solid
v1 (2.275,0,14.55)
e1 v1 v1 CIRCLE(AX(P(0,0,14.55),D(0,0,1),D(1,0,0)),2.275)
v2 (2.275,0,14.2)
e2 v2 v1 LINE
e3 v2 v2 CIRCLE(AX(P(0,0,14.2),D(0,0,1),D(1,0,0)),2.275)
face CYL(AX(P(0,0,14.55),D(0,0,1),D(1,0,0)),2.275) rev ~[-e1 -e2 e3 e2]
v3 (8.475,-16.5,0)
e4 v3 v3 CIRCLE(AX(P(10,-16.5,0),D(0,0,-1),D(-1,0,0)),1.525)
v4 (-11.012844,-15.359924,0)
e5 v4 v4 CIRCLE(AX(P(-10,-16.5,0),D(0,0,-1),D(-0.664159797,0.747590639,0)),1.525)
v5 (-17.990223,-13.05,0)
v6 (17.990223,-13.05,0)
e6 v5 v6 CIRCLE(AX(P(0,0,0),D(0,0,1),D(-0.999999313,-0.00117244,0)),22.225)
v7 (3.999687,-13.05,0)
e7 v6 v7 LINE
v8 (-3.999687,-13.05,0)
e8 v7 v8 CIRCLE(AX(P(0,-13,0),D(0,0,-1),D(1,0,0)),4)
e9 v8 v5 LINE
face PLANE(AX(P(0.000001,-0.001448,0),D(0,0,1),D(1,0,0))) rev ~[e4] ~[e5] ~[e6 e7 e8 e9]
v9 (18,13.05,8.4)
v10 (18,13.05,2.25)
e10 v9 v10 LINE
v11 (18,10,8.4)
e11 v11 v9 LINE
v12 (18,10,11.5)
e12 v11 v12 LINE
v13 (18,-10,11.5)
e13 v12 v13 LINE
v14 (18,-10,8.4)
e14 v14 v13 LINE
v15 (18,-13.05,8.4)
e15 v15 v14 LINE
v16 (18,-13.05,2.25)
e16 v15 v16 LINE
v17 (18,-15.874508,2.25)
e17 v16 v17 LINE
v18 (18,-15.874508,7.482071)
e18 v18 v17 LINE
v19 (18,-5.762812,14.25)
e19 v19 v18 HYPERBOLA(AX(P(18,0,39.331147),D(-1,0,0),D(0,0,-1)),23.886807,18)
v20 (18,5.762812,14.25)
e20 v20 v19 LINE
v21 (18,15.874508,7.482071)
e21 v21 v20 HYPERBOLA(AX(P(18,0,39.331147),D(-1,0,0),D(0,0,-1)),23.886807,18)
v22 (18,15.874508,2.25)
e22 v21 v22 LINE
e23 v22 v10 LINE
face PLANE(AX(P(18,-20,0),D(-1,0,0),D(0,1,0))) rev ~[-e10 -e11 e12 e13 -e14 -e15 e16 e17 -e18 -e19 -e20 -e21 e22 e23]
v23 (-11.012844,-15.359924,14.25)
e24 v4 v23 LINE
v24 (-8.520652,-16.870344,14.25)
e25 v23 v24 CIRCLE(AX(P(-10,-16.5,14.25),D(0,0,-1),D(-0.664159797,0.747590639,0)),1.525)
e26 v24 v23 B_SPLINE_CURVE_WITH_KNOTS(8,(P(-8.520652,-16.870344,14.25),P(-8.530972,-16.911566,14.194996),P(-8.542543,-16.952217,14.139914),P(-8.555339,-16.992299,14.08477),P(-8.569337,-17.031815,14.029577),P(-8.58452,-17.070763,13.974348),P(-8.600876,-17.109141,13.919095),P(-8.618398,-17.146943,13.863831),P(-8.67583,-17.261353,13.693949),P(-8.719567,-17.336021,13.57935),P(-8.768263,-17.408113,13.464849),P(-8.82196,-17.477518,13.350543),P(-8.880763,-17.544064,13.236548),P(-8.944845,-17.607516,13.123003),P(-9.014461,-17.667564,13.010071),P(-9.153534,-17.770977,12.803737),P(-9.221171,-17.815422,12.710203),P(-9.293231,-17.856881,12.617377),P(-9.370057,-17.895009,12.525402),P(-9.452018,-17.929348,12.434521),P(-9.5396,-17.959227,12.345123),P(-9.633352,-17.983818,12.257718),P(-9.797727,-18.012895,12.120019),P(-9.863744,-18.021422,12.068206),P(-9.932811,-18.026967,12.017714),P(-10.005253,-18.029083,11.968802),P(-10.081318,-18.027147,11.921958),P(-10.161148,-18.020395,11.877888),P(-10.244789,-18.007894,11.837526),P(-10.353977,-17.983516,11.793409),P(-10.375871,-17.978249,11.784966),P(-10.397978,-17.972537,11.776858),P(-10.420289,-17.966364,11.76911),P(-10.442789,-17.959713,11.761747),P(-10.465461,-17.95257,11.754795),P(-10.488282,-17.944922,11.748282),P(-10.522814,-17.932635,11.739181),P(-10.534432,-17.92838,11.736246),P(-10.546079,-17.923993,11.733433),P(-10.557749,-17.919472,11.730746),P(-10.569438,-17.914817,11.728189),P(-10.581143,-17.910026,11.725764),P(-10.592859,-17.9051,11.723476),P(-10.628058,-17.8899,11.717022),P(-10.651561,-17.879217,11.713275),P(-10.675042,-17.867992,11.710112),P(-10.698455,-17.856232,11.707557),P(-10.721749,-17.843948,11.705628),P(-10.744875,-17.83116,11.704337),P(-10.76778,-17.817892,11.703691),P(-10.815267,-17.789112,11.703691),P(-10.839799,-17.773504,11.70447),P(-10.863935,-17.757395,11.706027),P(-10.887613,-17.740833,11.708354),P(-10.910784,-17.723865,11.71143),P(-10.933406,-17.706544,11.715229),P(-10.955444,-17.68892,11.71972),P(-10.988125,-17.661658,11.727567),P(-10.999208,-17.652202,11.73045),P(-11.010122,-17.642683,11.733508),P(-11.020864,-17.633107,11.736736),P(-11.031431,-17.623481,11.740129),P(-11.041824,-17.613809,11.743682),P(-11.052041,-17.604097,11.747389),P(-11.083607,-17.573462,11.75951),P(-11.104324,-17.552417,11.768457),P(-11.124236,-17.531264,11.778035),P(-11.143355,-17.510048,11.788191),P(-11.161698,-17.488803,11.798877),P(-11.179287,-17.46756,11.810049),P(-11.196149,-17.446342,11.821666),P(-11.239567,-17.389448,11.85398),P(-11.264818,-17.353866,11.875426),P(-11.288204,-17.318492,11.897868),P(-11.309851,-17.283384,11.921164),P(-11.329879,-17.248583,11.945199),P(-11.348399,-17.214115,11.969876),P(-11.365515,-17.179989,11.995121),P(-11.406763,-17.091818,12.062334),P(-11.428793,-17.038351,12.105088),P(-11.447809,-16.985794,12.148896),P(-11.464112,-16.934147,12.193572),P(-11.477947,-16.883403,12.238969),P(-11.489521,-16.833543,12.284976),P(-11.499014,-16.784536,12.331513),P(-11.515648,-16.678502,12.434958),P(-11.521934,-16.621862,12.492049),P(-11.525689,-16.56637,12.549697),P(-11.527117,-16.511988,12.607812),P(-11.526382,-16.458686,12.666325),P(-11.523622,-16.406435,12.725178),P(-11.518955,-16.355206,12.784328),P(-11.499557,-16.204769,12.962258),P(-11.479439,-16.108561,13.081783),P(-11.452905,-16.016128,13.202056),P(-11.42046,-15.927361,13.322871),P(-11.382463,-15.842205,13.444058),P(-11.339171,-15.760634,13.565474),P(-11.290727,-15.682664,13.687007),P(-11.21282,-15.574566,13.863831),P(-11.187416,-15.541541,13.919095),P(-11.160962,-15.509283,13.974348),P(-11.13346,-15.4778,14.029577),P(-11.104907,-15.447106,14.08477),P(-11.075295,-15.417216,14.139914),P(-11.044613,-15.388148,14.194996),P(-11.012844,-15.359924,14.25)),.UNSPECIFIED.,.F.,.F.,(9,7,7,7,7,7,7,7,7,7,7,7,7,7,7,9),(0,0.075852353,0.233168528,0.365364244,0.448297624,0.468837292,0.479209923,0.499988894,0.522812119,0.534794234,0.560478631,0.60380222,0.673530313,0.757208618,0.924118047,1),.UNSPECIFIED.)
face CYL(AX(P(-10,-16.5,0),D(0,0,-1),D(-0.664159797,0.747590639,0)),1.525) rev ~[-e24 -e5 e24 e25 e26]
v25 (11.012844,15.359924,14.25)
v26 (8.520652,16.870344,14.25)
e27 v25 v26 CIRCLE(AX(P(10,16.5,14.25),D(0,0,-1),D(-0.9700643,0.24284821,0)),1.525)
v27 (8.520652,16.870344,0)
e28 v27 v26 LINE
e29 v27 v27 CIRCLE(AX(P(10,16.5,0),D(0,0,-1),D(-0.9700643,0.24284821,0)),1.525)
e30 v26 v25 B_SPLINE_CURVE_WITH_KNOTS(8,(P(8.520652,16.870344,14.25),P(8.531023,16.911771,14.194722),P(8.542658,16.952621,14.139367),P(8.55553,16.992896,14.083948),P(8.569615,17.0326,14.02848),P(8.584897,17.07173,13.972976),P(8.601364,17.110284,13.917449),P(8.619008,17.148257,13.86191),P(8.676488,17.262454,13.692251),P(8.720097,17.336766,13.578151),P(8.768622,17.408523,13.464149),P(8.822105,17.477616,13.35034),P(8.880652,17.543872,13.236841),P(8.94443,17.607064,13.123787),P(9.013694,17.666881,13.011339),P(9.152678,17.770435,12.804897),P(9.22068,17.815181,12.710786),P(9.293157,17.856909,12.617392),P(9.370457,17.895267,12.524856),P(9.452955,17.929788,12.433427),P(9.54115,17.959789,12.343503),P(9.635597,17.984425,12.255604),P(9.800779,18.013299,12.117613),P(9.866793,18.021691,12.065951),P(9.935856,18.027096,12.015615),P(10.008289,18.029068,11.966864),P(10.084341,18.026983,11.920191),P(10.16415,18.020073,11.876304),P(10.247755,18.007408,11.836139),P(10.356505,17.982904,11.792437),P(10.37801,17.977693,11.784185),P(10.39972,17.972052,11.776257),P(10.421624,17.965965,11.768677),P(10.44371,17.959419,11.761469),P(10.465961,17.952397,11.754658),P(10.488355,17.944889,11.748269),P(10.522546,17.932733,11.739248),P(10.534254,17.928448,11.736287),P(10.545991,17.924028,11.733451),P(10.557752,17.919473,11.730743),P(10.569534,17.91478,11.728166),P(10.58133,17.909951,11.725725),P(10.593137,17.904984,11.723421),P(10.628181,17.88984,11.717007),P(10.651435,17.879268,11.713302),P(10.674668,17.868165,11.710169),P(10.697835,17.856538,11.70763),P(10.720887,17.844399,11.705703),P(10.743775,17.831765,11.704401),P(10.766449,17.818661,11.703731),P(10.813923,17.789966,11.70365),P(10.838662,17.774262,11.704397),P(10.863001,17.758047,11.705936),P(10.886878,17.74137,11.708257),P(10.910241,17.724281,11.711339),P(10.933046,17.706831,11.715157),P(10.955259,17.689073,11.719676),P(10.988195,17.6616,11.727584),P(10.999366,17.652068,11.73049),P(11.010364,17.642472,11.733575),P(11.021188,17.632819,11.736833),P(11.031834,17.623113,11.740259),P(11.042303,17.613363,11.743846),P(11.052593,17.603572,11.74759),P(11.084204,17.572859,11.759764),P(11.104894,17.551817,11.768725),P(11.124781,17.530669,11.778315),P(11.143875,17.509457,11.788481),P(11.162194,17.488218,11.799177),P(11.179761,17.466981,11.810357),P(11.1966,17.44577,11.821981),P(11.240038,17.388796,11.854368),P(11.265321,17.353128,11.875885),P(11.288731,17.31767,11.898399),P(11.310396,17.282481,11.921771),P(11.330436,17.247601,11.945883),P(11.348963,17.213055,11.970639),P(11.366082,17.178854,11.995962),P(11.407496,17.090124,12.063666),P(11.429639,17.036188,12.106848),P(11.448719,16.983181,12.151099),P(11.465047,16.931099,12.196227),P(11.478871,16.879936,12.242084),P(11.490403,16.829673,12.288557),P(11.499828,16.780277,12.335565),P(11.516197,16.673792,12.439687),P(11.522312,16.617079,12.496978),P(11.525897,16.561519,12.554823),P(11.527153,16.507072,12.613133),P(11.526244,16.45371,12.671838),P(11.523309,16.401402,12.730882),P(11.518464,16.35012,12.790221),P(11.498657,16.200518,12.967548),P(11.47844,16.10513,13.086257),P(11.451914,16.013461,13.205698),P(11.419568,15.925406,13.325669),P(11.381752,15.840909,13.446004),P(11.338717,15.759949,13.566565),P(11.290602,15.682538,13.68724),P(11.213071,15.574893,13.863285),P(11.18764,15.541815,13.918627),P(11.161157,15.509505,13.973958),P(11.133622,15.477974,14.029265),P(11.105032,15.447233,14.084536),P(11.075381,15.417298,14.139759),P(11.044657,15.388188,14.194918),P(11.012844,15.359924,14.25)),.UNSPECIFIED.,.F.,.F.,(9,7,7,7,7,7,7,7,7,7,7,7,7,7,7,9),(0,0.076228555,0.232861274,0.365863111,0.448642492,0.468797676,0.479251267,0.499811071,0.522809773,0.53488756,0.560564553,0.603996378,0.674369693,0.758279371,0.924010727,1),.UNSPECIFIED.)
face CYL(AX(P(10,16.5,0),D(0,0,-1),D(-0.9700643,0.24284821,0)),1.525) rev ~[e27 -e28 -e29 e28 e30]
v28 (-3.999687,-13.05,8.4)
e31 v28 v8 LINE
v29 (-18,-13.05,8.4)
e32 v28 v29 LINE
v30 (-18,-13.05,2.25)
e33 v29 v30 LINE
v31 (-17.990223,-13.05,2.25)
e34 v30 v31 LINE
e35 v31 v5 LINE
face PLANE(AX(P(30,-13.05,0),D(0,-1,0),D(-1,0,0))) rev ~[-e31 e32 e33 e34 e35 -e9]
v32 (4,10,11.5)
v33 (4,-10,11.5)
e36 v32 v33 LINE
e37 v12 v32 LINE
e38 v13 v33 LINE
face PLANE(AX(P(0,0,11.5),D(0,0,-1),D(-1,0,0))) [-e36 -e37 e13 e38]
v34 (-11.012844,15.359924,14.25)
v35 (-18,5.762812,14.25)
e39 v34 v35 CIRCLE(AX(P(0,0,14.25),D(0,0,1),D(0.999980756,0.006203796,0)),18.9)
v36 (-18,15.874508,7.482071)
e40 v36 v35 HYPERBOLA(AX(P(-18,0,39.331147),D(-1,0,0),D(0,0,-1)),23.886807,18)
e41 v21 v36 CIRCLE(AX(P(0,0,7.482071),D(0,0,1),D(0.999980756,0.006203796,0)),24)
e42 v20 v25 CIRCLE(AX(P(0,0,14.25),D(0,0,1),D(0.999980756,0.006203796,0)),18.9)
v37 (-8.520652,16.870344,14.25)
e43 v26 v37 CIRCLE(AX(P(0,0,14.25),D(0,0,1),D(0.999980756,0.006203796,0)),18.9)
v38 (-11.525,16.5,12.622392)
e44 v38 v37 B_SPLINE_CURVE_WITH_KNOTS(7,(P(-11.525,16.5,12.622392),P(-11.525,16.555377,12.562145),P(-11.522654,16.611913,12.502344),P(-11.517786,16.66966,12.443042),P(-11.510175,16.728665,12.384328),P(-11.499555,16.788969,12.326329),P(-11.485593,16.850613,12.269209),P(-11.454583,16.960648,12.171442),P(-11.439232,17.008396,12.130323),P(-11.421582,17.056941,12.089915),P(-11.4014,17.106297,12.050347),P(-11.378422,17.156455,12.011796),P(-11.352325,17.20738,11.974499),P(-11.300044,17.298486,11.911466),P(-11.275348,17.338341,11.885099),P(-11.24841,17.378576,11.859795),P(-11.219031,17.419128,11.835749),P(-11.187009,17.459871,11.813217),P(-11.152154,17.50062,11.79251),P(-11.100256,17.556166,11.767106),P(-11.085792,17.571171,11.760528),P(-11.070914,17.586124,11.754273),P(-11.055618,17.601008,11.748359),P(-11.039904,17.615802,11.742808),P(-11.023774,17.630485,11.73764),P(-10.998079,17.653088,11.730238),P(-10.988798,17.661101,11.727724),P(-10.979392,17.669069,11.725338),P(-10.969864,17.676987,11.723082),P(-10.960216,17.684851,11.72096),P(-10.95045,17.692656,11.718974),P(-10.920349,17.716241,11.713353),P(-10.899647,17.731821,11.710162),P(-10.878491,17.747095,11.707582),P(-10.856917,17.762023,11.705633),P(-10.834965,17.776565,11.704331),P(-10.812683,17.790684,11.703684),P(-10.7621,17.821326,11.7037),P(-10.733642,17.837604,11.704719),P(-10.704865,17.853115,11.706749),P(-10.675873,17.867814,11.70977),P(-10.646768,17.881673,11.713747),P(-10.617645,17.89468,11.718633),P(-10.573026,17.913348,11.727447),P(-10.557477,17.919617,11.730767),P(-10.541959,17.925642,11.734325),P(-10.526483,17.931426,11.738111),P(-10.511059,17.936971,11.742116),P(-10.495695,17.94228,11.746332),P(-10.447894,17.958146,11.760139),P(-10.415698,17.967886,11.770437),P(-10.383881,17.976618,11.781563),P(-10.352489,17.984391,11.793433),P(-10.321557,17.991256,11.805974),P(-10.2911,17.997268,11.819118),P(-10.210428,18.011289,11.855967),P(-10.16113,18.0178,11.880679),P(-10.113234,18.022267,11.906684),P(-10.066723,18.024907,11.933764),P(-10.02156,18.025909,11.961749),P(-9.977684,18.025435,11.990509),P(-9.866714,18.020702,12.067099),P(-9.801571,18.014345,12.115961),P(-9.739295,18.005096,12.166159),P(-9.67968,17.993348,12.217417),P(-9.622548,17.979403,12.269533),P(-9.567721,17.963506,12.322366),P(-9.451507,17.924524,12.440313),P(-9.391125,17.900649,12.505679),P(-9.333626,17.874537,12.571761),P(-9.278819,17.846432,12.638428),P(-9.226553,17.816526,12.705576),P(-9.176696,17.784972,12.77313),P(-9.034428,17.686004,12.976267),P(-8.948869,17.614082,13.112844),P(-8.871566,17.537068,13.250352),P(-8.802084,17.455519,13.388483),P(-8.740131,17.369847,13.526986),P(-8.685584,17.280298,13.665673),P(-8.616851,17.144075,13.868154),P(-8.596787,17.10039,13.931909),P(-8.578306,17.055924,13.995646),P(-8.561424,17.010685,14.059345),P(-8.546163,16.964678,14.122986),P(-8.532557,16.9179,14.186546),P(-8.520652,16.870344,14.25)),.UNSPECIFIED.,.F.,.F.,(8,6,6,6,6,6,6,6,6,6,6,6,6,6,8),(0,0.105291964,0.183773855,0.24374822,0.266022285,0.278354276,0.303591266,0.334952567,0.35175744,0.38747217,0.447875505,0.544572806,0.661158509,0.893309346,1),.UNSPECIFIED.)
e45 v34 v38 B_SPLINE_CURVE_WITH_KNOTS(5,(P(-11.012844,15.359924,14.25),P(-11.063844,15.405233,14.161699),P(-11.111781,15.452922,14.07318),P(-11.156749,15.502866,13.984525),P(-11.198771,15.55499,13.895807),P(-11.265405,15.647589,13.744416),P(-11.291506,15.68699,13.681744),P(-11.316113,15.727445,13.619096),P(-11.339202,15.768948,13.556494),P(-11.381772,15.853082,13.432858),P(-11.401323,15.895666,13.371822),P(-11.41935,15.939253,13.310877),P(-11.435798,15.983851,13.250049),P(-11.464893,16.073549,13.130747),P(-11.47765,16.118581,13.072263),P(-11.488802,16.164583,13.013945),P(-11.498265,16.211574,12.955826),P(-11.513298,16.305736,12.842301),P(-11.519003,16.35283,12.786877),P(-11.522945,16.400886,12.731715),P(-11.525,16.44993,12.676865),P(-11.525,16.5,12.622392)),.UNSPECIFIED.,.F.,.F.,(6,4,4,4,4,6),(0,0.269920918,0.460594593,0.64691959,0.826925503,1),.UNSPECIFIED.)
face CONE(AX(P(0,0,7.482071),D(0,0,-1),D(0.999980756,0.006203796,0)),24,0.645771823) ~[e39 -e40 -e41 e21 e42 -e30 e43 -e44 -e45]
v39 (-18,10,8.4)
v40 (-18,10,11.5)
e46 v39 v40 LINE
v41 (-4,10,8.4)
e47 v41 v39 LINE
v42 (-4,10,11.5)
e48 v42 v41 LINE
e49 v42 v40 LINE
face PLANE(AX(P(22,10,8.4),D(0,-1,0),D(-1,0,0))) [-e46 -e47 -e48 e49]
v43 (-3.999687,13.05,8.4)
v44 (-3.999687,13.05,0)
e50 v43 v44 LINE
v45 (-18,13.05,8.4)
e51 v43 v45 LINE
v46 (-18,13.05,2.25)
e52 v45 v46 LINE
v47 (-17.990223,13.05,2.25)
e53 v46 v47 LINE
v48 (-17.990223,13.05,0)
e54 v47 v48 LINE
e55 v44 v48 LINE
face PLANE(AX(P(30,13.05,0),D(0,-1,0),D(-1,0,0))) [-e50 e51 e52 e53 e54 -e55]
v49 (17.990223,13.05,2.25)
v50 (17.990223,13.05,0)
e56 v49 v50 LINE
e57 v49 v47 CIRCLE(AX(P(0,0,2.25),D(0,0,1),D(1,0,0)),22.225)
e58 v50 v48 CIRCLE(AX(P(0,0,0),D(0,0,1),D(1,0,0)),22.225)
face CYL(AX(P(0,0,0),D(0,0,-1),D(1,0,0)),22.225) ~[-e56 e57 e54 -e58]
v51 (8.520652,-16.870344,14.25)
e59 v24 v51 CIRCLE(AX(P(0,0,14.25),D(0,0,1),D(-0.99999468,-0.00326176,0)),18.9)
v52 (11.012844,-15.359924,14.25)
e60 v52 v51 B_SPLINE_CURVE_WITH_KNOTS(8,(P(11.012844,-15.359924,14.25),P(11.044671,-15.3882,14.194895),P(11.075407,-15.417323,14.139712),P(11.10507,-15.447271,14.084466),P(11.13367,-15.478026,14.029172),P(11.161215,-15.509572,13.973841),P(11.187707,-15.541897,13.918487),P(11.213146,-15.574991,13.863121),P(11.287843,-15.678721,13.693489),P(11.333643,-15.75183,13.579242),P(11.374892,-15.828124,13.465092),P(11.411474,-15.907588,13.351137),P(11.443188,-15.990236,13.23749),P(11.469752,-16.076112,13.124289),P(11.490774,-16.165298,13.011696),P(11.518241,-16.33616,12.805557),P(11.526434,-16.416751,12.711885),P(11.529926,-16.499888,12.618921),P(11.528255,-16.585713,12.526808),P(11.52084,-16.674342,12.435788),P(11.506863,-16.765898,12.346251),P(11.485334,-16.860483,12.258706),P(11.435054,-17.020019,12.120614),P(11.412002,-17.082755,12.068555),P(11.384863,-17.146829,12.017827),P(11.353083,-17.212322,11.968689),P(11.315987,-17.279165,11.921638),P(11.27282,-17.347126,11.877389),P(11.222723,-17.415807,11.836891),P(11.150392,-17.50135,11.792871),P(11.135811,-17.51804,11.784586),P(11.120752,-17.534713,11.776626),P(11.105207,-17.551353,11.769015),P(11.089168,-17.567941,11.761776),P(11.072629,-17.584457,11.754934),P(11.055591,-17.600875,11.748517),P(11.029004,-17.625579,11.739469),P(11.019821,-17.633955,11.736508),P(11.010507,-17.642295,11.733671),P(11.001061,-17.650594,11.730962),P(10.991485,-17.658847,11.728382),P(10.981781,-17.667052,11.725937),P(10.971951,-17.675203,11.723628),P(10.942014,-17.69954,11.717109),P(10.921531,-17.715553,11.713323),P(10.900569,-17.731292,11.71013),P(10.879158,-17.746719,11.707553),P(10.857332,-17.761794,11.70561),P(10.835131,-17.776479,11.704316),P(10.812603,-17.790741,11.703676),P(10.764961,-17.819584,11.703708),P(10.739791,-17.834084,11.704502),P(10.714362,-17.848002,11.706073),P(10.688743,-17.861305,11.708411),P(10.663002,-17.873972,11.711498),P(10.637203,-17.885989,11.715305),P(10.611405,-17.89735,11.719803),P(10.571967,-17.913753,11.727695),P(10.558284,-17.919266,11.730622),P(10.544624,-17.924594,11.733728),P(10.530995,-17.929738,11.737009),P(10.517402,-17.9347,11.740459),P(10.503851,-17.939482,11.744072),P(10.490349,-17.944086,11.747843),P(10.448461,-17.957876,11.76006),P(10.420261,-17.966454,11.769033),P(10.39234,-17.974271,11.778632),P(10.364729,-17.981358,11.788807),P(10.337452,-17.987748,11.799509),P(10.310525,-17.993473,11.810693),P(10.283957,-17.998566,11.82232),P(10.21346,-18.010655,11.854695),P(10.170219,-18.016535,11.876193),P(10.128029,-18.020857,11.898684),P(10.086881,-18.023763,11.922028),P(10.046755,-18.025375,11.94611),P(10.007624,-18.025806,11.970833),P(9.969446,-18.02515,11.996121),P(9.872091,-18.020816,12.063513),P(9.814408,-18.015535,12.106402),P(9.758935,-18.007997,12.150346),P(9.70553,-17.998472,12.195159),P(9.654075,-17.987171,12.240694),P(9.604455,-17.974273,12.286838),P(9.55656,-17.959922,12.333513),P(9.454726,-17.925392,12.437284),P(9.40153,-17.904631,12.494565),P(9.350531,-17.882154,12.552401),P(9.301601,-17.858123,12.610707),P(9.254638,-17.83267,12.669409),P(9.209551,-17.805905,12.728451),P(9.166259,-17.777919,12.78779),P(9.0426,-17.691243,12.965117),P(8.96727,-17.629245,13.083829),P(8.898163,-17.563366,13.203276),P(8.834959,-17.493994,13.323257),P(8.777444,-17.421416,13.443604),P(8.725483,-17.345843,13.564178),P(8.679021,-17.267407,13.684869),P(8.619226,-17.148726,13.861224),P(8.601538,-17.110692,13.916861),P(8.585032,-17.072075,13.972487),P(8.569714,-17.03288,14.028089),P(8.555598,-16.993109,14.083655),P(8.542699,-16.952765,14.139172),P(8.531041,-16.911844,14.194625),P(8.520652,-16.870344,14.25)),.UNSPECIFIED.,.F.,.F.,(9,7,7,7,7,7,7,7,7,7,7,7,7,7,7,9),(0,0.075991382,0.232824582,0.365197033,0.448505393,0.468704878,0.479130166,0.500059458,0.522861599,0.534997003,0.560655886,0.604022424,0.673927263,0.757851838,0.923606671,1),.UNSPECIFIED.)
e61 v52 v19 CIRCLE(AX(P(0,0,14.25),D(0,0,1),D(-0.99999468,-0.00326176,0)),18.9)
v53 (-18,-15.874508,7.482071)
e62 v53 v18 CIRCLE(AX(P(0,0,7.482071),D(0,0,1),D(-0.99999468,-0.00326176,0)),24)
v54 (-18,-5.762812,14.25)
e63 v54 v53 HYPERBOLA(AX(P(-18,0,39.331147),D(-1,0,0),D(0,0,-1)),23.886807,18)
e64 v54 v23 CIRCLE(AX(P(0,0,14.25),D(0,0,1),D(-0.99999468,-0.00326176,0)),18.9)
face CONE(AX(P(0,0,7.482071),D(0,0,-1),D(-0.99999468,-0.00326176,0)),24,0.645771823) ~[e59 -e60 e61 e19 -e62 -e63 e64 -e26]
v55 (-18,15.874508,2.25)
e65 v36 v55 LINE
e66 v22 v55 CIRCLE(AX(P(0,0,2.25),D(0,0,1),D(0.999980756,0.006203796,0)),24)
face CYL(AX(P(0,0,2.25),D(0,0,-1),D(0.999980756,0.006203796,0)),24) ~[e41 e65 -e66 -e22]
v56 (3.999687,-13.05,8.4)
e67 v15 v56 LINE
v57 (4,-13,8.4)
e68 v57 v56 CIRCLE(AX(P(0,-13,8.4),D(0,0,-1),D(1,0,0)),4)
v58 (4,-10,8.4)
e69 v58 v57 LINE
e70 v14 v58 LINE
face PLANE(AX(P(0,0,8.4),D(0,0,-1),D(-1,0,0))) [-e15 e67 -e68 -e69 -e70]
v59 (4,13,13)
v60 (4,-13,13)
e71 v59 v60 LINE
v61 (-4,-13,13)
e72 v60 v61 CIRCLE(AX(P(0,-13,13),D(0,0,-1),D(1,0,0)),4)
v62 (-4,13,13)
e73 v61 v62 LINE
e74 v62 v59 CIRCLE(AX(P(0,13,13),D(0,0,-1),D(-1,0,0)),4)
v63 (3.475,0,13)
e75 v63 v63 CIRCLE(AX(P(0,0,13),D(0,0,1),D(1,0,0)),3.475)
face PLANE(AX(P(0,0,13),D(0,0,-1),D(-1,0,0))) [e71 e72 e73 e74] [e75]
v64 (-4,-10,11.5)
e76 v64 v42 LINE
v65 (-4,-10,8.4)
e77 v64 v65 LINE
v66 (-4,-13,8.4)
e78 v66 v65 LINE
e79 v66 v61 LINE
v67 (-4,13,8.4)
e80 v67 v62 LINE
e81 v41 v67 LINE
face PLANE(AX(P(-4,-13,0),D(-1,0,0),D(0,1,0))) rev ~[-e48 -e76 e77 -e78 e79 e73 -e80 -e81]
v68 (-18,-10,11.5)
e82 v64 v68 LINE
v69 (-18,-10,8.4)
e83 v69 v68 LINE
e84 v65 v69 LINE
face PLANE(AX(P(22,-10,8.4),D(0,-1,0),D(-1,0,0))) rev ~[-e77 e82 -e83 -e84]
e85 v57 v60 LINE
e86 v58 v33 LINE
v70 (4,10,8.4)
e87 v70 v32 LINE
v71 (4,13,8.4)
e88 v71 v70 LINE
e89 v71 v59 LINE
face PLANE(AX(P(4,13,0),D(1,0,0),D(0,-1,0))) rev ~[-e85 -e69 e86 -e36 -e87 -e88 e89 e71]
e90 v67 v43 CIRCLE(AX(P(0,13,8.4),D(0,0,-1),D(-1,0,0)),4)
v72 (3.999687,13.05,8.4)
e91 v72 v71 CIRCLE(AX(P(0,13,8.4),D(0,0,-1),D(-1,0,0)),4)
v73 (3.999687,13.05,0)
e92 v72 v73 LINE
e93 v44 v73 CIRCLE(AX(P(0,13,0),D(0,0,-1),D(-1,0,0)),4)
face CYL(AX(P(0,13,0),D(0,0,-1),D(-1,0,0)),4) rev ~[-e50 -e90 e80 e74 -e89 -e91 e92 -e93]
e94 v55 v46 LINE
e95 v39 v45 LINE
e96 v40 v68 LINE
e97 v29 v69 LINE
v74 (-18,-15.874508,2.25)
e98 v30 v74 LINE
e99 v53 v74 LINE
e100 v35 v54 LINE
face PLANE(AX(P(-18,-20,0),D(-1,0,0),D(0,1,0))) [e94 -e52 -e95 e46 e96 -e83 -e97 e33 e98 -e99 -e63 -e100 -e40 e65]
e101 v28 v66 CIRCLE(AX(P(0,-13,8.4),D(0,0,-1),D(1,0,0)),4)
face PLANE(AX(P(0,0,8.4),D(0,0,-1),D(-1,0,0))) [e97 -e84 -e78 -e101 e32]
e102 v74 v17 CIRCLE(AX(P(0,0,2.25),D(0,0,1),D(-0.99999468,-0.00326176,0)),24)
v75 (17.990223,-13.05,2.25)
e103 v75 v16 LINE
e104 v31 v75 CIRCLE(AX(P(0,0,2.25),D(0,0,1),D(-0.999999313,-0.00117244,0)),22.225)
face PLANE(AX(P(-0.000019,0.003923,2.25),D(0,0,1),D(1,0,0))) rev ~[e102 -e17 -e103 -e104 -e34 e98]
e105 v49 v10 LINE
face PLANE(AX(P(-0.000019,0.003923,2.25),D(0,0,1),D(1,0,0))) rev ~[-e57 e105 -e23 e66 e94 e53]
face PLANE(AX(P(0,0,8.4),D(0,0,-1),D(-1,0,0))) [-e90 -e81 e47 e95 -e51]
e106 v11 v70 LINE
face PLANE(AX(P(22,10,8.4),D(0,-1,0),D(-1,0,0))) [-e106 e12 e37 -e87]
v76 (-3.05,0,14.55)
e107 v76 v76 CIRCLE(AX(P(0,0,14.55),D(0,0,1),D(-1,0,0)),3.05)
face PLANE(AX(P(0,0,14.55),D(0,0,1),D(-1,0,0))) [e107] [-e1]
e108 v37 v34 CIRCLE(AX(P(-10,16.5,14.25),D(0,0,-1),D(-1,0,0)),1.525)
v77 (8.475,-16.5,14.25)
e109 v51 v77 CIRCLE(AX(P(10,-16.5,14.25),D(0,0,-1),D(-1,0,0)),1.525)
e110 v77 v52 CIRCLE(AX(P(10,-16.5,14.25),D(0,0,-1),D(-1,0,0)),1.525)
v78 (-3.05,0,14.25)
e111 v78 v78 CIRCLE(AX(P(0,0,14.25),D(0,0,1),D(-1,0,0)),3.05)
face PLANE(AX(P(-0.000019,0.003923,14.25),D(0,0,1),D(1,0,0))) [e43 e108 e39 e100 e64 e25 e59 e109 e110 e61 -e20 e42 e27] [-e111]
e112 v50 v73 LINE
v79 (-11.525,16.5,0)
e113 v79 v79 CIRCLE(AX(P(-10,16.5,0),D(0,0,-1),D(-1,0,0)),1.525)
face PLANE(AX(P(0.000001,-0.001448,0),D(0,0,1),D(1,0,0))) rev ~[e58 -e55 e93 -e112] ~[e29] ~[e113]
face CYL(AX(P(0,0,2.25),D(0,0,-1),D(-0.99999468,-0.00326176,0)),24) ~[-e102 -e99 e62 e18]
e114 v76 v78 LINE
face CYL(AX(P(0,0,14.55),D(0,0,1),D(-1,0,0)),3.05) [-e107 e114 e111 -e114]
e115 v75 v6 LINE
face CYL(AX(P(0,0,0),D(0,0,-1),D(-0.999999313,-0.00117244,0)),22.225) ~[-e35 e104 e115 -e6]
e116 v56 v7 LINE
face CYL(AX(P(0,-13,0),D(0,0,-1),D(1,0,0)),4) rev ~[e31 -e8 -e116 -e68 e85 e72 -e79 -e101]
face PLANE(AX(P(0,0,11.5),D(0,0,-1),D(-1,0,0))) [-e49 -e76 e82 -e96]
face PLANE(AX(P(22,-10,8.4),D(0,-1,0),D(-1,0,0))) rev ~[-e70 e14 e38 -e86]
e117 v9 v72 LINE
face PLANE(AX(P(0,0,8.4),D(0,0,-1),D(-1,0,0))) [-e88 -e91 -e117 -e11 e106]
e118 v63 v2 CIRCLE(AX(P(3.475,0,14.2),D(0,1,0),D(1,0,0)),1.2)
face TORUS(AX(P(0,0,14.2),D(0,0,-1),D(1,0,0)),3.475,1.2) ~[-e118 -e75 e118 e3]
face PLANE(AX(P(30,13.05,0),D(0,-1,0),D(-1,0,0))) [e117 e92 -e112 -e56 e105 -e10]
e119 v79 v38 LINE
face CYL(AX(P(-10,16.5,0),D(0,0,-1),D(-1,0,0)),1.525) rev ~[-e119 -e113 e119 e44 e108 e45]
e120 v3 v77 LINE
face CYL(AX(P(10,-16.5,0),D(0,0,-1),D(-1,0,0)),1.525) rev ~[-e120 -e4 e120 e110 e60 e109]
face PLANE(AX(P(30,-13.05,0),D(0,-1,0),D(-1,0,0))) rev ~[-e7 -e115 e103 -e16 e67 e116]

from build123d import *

# Parameters (mm, degrees)
EXTRUDE1_DEPTH      = 2.25
EXTRUDE2_DEPTH      = 12
CHAMFER1_SIZE       = 5.1
CHAMFER1_SIZE2      = 6.76792859
SKETCH6_W           = 60
SKETCH6_H           = 26.1
CUT_EXTRUDE1_DEPTH  = 8.4
SKETCH9_W           = 10
SKETCH9_H           = 40
CUT_EXTRUDE3_DEPTH  = 37.363978582
SKETCH10_W          = 44
SKETCH10_H          = 20
CUT_EXTRUDE4_DEPTH  = 3.1
CUT_EXTRUDE8_DEPTH  = 13
SKETCH16_R          = 1.525
CUT_EXTRUDE9_DEPTH  = 34.212384738
SKETCH17_R          = 2.275
CUT_EXTRUDE10_DEPTH = 34.212384908
EXTRUDE4_START      = 0.3
SKETCH18_R          = 3.05
SKETCH18_R_2        = 2.275
EXTRUDE4_DEPTH      = 0.3
FILLET1_R           = 1.2


with BuildPart() as part:
    # Sketch1 → Extrude1 (new body)
    with BuildSketch(Plane.XY):
        with BuildLine():
            ThreePointArc((-22.224984725, -0.026057486), (0.013028745, -22.224996181), (22.225, 0))
            ThreePointArc((22.225, 0), (-0.013028745, 22.224996181), (-22.224984725, -0.026057486))
        make_face()
    extrude(amount=EXTRUDE1_DEPTH)

    # Sketch2 → Extrude2 (add)
    with BuildSketch(Plane.XY.offset(2.25)):
        with BuildLine():
            ThreePointArc((-23.999872331, -0.078282234), (0.113586787, -23.999731208), (23.999538151, 0.148891095))
            ThreePointArc((23.999538151, 0.148891095), (-0.113586787, 23.999731208), (-23.999872331, -0.078282234))
        make_face()
    extrude(amount=EXTRUDE2_DEPTH)

    # Chamfer1
    chamfer1_edges = [part.edges().sort_by_distance(p)[0] for p in [
        (-23.999538151, -0.148891095, 14.25),
    ]]
    chamfer1_side = [part.faces().sort_by_distance(p)[0] for p in [
        (0, 0, 14.25),
    ]]
    chamfer(chamfer1_edges, length=CHAMFER1_SIZE, length2=CHAMFER1_SIZE2, reference=chamfer1_side[0])

    # Sketch6 → Cut-Extrude1 (cut)
    with BuildSketch(Plane(origin=(0, 0, 0), x_dir=(-1, 0, 0), z_dir=(0, 0, -1))):
        Rectangle(SKETCH6_W, SKETCH6_H)
    extrude(amount=-CUT_EXTRUDE1_DEPTH, mode=Mode.SUBTRACT)

    # Sketch9 → Cut-Extrude3 (cut, through all)
    with BuildSketch(Plane(origin=(0, 0, 0), x_dir=(-1, 0, 0), z_dir=(0, 0, -1))):
        with Locations((-23, 0)):
            Rectangle(SKETCH9_W, SKETCH9_H)
        with Locations((23, 0)):
            Rectangle(SKETCH9_W, SKETCH9_H)
    extrude(amount=-CUT_EXTRUDE3_DEPTH, mode=Mode.SUBTRACT)

    # Sketch10 → Cut-Extrude4 (cut)
    with BuildSketch(Plane(origin=(0, 0, 8.4), x_dir=(-1, 0, 0), z_dir=(0, 0, -1))):
        Rectangle(SKETCH10_W, SKETCH10_H)
    extrude(amount=-CUT_EXTRUDE4_DEPTH, mode=Mode.SUBTRACT)

    # Sketch15 → Cut-Extrude8 (cut)
    with BuildSketch(Plane(origin=(0, 0, 0), x_dir=(-1, 0, 0), z_dir=(0, 0, -1))):
        with BuildLine():
            Line((4, -13), (4, 13))
            ThreePointArc((4, 13), (0, 17), (-4, 13))
            Line((-4, 13), (-4, -13))
            ThreePointArc((-4, -13), (0, -17), (4, -13))
        make_face()
    extrude(amount=-CUT_EXTRUDE8_DEPTH, mode=Mode.SUBTRACT)

    # Sketch16 → Cut-Extrude9 (cut, through all)
    with BuildSketch(Plane(origin=(0, 0, 0), x_dir=(-1, 0, 0), z_dir=(0, 0, -1))):
        with Locations((-10, -16.5)):
            Circle(SKETCH16_R)
        with Locations(Location((10, -16.5, 0), (0, 0, 48.382100449))):
            Circle(SKETCH16_R)
        with Locations((10, 16.5)):
            Circle(SKETCH16_R)
        with Locations(Location((-10, 16.5, 0), (0, 0, 14.054705204))):
            Circle(SKETCH16_R)
    extrude(amount=-CUT_EXTRUDE9_DEPTH, mode=Mode.SUBTRACT)

    # Sketch17 → Cut-Extrude10 (cut, through all)
    with BuildSketch(Plane.XY.offset(14.25)):
        Circle(SKETCH17_R)
    extrude(amount=-CUT_EXTRUDE10_DEPTH, mode=Mode.SUBTRACT)

    # Sketch18 → Extrude4 (add)
    with BuildSketch(Plane.XY.offset(14.25).offset(EXTRUDE4_START)):
        with Locations(Location((0, 0, 0), (0, 0, 180))):
            Circle(SKETCH18_R)
        Circle(SKETCH18_R_2, mode=Mode.SUBTRACT)
    extrude(amount=-EXTRUDE4_DEPTH)

    # Fillet1
    fillet1_edges = [part.edges().sort_by_distance(p)[0] for p in [
        (-2.275, 0, 13),
    ]]
    fillet(fillet1_edges, radius=FILLET1_R)


solid = part.part
